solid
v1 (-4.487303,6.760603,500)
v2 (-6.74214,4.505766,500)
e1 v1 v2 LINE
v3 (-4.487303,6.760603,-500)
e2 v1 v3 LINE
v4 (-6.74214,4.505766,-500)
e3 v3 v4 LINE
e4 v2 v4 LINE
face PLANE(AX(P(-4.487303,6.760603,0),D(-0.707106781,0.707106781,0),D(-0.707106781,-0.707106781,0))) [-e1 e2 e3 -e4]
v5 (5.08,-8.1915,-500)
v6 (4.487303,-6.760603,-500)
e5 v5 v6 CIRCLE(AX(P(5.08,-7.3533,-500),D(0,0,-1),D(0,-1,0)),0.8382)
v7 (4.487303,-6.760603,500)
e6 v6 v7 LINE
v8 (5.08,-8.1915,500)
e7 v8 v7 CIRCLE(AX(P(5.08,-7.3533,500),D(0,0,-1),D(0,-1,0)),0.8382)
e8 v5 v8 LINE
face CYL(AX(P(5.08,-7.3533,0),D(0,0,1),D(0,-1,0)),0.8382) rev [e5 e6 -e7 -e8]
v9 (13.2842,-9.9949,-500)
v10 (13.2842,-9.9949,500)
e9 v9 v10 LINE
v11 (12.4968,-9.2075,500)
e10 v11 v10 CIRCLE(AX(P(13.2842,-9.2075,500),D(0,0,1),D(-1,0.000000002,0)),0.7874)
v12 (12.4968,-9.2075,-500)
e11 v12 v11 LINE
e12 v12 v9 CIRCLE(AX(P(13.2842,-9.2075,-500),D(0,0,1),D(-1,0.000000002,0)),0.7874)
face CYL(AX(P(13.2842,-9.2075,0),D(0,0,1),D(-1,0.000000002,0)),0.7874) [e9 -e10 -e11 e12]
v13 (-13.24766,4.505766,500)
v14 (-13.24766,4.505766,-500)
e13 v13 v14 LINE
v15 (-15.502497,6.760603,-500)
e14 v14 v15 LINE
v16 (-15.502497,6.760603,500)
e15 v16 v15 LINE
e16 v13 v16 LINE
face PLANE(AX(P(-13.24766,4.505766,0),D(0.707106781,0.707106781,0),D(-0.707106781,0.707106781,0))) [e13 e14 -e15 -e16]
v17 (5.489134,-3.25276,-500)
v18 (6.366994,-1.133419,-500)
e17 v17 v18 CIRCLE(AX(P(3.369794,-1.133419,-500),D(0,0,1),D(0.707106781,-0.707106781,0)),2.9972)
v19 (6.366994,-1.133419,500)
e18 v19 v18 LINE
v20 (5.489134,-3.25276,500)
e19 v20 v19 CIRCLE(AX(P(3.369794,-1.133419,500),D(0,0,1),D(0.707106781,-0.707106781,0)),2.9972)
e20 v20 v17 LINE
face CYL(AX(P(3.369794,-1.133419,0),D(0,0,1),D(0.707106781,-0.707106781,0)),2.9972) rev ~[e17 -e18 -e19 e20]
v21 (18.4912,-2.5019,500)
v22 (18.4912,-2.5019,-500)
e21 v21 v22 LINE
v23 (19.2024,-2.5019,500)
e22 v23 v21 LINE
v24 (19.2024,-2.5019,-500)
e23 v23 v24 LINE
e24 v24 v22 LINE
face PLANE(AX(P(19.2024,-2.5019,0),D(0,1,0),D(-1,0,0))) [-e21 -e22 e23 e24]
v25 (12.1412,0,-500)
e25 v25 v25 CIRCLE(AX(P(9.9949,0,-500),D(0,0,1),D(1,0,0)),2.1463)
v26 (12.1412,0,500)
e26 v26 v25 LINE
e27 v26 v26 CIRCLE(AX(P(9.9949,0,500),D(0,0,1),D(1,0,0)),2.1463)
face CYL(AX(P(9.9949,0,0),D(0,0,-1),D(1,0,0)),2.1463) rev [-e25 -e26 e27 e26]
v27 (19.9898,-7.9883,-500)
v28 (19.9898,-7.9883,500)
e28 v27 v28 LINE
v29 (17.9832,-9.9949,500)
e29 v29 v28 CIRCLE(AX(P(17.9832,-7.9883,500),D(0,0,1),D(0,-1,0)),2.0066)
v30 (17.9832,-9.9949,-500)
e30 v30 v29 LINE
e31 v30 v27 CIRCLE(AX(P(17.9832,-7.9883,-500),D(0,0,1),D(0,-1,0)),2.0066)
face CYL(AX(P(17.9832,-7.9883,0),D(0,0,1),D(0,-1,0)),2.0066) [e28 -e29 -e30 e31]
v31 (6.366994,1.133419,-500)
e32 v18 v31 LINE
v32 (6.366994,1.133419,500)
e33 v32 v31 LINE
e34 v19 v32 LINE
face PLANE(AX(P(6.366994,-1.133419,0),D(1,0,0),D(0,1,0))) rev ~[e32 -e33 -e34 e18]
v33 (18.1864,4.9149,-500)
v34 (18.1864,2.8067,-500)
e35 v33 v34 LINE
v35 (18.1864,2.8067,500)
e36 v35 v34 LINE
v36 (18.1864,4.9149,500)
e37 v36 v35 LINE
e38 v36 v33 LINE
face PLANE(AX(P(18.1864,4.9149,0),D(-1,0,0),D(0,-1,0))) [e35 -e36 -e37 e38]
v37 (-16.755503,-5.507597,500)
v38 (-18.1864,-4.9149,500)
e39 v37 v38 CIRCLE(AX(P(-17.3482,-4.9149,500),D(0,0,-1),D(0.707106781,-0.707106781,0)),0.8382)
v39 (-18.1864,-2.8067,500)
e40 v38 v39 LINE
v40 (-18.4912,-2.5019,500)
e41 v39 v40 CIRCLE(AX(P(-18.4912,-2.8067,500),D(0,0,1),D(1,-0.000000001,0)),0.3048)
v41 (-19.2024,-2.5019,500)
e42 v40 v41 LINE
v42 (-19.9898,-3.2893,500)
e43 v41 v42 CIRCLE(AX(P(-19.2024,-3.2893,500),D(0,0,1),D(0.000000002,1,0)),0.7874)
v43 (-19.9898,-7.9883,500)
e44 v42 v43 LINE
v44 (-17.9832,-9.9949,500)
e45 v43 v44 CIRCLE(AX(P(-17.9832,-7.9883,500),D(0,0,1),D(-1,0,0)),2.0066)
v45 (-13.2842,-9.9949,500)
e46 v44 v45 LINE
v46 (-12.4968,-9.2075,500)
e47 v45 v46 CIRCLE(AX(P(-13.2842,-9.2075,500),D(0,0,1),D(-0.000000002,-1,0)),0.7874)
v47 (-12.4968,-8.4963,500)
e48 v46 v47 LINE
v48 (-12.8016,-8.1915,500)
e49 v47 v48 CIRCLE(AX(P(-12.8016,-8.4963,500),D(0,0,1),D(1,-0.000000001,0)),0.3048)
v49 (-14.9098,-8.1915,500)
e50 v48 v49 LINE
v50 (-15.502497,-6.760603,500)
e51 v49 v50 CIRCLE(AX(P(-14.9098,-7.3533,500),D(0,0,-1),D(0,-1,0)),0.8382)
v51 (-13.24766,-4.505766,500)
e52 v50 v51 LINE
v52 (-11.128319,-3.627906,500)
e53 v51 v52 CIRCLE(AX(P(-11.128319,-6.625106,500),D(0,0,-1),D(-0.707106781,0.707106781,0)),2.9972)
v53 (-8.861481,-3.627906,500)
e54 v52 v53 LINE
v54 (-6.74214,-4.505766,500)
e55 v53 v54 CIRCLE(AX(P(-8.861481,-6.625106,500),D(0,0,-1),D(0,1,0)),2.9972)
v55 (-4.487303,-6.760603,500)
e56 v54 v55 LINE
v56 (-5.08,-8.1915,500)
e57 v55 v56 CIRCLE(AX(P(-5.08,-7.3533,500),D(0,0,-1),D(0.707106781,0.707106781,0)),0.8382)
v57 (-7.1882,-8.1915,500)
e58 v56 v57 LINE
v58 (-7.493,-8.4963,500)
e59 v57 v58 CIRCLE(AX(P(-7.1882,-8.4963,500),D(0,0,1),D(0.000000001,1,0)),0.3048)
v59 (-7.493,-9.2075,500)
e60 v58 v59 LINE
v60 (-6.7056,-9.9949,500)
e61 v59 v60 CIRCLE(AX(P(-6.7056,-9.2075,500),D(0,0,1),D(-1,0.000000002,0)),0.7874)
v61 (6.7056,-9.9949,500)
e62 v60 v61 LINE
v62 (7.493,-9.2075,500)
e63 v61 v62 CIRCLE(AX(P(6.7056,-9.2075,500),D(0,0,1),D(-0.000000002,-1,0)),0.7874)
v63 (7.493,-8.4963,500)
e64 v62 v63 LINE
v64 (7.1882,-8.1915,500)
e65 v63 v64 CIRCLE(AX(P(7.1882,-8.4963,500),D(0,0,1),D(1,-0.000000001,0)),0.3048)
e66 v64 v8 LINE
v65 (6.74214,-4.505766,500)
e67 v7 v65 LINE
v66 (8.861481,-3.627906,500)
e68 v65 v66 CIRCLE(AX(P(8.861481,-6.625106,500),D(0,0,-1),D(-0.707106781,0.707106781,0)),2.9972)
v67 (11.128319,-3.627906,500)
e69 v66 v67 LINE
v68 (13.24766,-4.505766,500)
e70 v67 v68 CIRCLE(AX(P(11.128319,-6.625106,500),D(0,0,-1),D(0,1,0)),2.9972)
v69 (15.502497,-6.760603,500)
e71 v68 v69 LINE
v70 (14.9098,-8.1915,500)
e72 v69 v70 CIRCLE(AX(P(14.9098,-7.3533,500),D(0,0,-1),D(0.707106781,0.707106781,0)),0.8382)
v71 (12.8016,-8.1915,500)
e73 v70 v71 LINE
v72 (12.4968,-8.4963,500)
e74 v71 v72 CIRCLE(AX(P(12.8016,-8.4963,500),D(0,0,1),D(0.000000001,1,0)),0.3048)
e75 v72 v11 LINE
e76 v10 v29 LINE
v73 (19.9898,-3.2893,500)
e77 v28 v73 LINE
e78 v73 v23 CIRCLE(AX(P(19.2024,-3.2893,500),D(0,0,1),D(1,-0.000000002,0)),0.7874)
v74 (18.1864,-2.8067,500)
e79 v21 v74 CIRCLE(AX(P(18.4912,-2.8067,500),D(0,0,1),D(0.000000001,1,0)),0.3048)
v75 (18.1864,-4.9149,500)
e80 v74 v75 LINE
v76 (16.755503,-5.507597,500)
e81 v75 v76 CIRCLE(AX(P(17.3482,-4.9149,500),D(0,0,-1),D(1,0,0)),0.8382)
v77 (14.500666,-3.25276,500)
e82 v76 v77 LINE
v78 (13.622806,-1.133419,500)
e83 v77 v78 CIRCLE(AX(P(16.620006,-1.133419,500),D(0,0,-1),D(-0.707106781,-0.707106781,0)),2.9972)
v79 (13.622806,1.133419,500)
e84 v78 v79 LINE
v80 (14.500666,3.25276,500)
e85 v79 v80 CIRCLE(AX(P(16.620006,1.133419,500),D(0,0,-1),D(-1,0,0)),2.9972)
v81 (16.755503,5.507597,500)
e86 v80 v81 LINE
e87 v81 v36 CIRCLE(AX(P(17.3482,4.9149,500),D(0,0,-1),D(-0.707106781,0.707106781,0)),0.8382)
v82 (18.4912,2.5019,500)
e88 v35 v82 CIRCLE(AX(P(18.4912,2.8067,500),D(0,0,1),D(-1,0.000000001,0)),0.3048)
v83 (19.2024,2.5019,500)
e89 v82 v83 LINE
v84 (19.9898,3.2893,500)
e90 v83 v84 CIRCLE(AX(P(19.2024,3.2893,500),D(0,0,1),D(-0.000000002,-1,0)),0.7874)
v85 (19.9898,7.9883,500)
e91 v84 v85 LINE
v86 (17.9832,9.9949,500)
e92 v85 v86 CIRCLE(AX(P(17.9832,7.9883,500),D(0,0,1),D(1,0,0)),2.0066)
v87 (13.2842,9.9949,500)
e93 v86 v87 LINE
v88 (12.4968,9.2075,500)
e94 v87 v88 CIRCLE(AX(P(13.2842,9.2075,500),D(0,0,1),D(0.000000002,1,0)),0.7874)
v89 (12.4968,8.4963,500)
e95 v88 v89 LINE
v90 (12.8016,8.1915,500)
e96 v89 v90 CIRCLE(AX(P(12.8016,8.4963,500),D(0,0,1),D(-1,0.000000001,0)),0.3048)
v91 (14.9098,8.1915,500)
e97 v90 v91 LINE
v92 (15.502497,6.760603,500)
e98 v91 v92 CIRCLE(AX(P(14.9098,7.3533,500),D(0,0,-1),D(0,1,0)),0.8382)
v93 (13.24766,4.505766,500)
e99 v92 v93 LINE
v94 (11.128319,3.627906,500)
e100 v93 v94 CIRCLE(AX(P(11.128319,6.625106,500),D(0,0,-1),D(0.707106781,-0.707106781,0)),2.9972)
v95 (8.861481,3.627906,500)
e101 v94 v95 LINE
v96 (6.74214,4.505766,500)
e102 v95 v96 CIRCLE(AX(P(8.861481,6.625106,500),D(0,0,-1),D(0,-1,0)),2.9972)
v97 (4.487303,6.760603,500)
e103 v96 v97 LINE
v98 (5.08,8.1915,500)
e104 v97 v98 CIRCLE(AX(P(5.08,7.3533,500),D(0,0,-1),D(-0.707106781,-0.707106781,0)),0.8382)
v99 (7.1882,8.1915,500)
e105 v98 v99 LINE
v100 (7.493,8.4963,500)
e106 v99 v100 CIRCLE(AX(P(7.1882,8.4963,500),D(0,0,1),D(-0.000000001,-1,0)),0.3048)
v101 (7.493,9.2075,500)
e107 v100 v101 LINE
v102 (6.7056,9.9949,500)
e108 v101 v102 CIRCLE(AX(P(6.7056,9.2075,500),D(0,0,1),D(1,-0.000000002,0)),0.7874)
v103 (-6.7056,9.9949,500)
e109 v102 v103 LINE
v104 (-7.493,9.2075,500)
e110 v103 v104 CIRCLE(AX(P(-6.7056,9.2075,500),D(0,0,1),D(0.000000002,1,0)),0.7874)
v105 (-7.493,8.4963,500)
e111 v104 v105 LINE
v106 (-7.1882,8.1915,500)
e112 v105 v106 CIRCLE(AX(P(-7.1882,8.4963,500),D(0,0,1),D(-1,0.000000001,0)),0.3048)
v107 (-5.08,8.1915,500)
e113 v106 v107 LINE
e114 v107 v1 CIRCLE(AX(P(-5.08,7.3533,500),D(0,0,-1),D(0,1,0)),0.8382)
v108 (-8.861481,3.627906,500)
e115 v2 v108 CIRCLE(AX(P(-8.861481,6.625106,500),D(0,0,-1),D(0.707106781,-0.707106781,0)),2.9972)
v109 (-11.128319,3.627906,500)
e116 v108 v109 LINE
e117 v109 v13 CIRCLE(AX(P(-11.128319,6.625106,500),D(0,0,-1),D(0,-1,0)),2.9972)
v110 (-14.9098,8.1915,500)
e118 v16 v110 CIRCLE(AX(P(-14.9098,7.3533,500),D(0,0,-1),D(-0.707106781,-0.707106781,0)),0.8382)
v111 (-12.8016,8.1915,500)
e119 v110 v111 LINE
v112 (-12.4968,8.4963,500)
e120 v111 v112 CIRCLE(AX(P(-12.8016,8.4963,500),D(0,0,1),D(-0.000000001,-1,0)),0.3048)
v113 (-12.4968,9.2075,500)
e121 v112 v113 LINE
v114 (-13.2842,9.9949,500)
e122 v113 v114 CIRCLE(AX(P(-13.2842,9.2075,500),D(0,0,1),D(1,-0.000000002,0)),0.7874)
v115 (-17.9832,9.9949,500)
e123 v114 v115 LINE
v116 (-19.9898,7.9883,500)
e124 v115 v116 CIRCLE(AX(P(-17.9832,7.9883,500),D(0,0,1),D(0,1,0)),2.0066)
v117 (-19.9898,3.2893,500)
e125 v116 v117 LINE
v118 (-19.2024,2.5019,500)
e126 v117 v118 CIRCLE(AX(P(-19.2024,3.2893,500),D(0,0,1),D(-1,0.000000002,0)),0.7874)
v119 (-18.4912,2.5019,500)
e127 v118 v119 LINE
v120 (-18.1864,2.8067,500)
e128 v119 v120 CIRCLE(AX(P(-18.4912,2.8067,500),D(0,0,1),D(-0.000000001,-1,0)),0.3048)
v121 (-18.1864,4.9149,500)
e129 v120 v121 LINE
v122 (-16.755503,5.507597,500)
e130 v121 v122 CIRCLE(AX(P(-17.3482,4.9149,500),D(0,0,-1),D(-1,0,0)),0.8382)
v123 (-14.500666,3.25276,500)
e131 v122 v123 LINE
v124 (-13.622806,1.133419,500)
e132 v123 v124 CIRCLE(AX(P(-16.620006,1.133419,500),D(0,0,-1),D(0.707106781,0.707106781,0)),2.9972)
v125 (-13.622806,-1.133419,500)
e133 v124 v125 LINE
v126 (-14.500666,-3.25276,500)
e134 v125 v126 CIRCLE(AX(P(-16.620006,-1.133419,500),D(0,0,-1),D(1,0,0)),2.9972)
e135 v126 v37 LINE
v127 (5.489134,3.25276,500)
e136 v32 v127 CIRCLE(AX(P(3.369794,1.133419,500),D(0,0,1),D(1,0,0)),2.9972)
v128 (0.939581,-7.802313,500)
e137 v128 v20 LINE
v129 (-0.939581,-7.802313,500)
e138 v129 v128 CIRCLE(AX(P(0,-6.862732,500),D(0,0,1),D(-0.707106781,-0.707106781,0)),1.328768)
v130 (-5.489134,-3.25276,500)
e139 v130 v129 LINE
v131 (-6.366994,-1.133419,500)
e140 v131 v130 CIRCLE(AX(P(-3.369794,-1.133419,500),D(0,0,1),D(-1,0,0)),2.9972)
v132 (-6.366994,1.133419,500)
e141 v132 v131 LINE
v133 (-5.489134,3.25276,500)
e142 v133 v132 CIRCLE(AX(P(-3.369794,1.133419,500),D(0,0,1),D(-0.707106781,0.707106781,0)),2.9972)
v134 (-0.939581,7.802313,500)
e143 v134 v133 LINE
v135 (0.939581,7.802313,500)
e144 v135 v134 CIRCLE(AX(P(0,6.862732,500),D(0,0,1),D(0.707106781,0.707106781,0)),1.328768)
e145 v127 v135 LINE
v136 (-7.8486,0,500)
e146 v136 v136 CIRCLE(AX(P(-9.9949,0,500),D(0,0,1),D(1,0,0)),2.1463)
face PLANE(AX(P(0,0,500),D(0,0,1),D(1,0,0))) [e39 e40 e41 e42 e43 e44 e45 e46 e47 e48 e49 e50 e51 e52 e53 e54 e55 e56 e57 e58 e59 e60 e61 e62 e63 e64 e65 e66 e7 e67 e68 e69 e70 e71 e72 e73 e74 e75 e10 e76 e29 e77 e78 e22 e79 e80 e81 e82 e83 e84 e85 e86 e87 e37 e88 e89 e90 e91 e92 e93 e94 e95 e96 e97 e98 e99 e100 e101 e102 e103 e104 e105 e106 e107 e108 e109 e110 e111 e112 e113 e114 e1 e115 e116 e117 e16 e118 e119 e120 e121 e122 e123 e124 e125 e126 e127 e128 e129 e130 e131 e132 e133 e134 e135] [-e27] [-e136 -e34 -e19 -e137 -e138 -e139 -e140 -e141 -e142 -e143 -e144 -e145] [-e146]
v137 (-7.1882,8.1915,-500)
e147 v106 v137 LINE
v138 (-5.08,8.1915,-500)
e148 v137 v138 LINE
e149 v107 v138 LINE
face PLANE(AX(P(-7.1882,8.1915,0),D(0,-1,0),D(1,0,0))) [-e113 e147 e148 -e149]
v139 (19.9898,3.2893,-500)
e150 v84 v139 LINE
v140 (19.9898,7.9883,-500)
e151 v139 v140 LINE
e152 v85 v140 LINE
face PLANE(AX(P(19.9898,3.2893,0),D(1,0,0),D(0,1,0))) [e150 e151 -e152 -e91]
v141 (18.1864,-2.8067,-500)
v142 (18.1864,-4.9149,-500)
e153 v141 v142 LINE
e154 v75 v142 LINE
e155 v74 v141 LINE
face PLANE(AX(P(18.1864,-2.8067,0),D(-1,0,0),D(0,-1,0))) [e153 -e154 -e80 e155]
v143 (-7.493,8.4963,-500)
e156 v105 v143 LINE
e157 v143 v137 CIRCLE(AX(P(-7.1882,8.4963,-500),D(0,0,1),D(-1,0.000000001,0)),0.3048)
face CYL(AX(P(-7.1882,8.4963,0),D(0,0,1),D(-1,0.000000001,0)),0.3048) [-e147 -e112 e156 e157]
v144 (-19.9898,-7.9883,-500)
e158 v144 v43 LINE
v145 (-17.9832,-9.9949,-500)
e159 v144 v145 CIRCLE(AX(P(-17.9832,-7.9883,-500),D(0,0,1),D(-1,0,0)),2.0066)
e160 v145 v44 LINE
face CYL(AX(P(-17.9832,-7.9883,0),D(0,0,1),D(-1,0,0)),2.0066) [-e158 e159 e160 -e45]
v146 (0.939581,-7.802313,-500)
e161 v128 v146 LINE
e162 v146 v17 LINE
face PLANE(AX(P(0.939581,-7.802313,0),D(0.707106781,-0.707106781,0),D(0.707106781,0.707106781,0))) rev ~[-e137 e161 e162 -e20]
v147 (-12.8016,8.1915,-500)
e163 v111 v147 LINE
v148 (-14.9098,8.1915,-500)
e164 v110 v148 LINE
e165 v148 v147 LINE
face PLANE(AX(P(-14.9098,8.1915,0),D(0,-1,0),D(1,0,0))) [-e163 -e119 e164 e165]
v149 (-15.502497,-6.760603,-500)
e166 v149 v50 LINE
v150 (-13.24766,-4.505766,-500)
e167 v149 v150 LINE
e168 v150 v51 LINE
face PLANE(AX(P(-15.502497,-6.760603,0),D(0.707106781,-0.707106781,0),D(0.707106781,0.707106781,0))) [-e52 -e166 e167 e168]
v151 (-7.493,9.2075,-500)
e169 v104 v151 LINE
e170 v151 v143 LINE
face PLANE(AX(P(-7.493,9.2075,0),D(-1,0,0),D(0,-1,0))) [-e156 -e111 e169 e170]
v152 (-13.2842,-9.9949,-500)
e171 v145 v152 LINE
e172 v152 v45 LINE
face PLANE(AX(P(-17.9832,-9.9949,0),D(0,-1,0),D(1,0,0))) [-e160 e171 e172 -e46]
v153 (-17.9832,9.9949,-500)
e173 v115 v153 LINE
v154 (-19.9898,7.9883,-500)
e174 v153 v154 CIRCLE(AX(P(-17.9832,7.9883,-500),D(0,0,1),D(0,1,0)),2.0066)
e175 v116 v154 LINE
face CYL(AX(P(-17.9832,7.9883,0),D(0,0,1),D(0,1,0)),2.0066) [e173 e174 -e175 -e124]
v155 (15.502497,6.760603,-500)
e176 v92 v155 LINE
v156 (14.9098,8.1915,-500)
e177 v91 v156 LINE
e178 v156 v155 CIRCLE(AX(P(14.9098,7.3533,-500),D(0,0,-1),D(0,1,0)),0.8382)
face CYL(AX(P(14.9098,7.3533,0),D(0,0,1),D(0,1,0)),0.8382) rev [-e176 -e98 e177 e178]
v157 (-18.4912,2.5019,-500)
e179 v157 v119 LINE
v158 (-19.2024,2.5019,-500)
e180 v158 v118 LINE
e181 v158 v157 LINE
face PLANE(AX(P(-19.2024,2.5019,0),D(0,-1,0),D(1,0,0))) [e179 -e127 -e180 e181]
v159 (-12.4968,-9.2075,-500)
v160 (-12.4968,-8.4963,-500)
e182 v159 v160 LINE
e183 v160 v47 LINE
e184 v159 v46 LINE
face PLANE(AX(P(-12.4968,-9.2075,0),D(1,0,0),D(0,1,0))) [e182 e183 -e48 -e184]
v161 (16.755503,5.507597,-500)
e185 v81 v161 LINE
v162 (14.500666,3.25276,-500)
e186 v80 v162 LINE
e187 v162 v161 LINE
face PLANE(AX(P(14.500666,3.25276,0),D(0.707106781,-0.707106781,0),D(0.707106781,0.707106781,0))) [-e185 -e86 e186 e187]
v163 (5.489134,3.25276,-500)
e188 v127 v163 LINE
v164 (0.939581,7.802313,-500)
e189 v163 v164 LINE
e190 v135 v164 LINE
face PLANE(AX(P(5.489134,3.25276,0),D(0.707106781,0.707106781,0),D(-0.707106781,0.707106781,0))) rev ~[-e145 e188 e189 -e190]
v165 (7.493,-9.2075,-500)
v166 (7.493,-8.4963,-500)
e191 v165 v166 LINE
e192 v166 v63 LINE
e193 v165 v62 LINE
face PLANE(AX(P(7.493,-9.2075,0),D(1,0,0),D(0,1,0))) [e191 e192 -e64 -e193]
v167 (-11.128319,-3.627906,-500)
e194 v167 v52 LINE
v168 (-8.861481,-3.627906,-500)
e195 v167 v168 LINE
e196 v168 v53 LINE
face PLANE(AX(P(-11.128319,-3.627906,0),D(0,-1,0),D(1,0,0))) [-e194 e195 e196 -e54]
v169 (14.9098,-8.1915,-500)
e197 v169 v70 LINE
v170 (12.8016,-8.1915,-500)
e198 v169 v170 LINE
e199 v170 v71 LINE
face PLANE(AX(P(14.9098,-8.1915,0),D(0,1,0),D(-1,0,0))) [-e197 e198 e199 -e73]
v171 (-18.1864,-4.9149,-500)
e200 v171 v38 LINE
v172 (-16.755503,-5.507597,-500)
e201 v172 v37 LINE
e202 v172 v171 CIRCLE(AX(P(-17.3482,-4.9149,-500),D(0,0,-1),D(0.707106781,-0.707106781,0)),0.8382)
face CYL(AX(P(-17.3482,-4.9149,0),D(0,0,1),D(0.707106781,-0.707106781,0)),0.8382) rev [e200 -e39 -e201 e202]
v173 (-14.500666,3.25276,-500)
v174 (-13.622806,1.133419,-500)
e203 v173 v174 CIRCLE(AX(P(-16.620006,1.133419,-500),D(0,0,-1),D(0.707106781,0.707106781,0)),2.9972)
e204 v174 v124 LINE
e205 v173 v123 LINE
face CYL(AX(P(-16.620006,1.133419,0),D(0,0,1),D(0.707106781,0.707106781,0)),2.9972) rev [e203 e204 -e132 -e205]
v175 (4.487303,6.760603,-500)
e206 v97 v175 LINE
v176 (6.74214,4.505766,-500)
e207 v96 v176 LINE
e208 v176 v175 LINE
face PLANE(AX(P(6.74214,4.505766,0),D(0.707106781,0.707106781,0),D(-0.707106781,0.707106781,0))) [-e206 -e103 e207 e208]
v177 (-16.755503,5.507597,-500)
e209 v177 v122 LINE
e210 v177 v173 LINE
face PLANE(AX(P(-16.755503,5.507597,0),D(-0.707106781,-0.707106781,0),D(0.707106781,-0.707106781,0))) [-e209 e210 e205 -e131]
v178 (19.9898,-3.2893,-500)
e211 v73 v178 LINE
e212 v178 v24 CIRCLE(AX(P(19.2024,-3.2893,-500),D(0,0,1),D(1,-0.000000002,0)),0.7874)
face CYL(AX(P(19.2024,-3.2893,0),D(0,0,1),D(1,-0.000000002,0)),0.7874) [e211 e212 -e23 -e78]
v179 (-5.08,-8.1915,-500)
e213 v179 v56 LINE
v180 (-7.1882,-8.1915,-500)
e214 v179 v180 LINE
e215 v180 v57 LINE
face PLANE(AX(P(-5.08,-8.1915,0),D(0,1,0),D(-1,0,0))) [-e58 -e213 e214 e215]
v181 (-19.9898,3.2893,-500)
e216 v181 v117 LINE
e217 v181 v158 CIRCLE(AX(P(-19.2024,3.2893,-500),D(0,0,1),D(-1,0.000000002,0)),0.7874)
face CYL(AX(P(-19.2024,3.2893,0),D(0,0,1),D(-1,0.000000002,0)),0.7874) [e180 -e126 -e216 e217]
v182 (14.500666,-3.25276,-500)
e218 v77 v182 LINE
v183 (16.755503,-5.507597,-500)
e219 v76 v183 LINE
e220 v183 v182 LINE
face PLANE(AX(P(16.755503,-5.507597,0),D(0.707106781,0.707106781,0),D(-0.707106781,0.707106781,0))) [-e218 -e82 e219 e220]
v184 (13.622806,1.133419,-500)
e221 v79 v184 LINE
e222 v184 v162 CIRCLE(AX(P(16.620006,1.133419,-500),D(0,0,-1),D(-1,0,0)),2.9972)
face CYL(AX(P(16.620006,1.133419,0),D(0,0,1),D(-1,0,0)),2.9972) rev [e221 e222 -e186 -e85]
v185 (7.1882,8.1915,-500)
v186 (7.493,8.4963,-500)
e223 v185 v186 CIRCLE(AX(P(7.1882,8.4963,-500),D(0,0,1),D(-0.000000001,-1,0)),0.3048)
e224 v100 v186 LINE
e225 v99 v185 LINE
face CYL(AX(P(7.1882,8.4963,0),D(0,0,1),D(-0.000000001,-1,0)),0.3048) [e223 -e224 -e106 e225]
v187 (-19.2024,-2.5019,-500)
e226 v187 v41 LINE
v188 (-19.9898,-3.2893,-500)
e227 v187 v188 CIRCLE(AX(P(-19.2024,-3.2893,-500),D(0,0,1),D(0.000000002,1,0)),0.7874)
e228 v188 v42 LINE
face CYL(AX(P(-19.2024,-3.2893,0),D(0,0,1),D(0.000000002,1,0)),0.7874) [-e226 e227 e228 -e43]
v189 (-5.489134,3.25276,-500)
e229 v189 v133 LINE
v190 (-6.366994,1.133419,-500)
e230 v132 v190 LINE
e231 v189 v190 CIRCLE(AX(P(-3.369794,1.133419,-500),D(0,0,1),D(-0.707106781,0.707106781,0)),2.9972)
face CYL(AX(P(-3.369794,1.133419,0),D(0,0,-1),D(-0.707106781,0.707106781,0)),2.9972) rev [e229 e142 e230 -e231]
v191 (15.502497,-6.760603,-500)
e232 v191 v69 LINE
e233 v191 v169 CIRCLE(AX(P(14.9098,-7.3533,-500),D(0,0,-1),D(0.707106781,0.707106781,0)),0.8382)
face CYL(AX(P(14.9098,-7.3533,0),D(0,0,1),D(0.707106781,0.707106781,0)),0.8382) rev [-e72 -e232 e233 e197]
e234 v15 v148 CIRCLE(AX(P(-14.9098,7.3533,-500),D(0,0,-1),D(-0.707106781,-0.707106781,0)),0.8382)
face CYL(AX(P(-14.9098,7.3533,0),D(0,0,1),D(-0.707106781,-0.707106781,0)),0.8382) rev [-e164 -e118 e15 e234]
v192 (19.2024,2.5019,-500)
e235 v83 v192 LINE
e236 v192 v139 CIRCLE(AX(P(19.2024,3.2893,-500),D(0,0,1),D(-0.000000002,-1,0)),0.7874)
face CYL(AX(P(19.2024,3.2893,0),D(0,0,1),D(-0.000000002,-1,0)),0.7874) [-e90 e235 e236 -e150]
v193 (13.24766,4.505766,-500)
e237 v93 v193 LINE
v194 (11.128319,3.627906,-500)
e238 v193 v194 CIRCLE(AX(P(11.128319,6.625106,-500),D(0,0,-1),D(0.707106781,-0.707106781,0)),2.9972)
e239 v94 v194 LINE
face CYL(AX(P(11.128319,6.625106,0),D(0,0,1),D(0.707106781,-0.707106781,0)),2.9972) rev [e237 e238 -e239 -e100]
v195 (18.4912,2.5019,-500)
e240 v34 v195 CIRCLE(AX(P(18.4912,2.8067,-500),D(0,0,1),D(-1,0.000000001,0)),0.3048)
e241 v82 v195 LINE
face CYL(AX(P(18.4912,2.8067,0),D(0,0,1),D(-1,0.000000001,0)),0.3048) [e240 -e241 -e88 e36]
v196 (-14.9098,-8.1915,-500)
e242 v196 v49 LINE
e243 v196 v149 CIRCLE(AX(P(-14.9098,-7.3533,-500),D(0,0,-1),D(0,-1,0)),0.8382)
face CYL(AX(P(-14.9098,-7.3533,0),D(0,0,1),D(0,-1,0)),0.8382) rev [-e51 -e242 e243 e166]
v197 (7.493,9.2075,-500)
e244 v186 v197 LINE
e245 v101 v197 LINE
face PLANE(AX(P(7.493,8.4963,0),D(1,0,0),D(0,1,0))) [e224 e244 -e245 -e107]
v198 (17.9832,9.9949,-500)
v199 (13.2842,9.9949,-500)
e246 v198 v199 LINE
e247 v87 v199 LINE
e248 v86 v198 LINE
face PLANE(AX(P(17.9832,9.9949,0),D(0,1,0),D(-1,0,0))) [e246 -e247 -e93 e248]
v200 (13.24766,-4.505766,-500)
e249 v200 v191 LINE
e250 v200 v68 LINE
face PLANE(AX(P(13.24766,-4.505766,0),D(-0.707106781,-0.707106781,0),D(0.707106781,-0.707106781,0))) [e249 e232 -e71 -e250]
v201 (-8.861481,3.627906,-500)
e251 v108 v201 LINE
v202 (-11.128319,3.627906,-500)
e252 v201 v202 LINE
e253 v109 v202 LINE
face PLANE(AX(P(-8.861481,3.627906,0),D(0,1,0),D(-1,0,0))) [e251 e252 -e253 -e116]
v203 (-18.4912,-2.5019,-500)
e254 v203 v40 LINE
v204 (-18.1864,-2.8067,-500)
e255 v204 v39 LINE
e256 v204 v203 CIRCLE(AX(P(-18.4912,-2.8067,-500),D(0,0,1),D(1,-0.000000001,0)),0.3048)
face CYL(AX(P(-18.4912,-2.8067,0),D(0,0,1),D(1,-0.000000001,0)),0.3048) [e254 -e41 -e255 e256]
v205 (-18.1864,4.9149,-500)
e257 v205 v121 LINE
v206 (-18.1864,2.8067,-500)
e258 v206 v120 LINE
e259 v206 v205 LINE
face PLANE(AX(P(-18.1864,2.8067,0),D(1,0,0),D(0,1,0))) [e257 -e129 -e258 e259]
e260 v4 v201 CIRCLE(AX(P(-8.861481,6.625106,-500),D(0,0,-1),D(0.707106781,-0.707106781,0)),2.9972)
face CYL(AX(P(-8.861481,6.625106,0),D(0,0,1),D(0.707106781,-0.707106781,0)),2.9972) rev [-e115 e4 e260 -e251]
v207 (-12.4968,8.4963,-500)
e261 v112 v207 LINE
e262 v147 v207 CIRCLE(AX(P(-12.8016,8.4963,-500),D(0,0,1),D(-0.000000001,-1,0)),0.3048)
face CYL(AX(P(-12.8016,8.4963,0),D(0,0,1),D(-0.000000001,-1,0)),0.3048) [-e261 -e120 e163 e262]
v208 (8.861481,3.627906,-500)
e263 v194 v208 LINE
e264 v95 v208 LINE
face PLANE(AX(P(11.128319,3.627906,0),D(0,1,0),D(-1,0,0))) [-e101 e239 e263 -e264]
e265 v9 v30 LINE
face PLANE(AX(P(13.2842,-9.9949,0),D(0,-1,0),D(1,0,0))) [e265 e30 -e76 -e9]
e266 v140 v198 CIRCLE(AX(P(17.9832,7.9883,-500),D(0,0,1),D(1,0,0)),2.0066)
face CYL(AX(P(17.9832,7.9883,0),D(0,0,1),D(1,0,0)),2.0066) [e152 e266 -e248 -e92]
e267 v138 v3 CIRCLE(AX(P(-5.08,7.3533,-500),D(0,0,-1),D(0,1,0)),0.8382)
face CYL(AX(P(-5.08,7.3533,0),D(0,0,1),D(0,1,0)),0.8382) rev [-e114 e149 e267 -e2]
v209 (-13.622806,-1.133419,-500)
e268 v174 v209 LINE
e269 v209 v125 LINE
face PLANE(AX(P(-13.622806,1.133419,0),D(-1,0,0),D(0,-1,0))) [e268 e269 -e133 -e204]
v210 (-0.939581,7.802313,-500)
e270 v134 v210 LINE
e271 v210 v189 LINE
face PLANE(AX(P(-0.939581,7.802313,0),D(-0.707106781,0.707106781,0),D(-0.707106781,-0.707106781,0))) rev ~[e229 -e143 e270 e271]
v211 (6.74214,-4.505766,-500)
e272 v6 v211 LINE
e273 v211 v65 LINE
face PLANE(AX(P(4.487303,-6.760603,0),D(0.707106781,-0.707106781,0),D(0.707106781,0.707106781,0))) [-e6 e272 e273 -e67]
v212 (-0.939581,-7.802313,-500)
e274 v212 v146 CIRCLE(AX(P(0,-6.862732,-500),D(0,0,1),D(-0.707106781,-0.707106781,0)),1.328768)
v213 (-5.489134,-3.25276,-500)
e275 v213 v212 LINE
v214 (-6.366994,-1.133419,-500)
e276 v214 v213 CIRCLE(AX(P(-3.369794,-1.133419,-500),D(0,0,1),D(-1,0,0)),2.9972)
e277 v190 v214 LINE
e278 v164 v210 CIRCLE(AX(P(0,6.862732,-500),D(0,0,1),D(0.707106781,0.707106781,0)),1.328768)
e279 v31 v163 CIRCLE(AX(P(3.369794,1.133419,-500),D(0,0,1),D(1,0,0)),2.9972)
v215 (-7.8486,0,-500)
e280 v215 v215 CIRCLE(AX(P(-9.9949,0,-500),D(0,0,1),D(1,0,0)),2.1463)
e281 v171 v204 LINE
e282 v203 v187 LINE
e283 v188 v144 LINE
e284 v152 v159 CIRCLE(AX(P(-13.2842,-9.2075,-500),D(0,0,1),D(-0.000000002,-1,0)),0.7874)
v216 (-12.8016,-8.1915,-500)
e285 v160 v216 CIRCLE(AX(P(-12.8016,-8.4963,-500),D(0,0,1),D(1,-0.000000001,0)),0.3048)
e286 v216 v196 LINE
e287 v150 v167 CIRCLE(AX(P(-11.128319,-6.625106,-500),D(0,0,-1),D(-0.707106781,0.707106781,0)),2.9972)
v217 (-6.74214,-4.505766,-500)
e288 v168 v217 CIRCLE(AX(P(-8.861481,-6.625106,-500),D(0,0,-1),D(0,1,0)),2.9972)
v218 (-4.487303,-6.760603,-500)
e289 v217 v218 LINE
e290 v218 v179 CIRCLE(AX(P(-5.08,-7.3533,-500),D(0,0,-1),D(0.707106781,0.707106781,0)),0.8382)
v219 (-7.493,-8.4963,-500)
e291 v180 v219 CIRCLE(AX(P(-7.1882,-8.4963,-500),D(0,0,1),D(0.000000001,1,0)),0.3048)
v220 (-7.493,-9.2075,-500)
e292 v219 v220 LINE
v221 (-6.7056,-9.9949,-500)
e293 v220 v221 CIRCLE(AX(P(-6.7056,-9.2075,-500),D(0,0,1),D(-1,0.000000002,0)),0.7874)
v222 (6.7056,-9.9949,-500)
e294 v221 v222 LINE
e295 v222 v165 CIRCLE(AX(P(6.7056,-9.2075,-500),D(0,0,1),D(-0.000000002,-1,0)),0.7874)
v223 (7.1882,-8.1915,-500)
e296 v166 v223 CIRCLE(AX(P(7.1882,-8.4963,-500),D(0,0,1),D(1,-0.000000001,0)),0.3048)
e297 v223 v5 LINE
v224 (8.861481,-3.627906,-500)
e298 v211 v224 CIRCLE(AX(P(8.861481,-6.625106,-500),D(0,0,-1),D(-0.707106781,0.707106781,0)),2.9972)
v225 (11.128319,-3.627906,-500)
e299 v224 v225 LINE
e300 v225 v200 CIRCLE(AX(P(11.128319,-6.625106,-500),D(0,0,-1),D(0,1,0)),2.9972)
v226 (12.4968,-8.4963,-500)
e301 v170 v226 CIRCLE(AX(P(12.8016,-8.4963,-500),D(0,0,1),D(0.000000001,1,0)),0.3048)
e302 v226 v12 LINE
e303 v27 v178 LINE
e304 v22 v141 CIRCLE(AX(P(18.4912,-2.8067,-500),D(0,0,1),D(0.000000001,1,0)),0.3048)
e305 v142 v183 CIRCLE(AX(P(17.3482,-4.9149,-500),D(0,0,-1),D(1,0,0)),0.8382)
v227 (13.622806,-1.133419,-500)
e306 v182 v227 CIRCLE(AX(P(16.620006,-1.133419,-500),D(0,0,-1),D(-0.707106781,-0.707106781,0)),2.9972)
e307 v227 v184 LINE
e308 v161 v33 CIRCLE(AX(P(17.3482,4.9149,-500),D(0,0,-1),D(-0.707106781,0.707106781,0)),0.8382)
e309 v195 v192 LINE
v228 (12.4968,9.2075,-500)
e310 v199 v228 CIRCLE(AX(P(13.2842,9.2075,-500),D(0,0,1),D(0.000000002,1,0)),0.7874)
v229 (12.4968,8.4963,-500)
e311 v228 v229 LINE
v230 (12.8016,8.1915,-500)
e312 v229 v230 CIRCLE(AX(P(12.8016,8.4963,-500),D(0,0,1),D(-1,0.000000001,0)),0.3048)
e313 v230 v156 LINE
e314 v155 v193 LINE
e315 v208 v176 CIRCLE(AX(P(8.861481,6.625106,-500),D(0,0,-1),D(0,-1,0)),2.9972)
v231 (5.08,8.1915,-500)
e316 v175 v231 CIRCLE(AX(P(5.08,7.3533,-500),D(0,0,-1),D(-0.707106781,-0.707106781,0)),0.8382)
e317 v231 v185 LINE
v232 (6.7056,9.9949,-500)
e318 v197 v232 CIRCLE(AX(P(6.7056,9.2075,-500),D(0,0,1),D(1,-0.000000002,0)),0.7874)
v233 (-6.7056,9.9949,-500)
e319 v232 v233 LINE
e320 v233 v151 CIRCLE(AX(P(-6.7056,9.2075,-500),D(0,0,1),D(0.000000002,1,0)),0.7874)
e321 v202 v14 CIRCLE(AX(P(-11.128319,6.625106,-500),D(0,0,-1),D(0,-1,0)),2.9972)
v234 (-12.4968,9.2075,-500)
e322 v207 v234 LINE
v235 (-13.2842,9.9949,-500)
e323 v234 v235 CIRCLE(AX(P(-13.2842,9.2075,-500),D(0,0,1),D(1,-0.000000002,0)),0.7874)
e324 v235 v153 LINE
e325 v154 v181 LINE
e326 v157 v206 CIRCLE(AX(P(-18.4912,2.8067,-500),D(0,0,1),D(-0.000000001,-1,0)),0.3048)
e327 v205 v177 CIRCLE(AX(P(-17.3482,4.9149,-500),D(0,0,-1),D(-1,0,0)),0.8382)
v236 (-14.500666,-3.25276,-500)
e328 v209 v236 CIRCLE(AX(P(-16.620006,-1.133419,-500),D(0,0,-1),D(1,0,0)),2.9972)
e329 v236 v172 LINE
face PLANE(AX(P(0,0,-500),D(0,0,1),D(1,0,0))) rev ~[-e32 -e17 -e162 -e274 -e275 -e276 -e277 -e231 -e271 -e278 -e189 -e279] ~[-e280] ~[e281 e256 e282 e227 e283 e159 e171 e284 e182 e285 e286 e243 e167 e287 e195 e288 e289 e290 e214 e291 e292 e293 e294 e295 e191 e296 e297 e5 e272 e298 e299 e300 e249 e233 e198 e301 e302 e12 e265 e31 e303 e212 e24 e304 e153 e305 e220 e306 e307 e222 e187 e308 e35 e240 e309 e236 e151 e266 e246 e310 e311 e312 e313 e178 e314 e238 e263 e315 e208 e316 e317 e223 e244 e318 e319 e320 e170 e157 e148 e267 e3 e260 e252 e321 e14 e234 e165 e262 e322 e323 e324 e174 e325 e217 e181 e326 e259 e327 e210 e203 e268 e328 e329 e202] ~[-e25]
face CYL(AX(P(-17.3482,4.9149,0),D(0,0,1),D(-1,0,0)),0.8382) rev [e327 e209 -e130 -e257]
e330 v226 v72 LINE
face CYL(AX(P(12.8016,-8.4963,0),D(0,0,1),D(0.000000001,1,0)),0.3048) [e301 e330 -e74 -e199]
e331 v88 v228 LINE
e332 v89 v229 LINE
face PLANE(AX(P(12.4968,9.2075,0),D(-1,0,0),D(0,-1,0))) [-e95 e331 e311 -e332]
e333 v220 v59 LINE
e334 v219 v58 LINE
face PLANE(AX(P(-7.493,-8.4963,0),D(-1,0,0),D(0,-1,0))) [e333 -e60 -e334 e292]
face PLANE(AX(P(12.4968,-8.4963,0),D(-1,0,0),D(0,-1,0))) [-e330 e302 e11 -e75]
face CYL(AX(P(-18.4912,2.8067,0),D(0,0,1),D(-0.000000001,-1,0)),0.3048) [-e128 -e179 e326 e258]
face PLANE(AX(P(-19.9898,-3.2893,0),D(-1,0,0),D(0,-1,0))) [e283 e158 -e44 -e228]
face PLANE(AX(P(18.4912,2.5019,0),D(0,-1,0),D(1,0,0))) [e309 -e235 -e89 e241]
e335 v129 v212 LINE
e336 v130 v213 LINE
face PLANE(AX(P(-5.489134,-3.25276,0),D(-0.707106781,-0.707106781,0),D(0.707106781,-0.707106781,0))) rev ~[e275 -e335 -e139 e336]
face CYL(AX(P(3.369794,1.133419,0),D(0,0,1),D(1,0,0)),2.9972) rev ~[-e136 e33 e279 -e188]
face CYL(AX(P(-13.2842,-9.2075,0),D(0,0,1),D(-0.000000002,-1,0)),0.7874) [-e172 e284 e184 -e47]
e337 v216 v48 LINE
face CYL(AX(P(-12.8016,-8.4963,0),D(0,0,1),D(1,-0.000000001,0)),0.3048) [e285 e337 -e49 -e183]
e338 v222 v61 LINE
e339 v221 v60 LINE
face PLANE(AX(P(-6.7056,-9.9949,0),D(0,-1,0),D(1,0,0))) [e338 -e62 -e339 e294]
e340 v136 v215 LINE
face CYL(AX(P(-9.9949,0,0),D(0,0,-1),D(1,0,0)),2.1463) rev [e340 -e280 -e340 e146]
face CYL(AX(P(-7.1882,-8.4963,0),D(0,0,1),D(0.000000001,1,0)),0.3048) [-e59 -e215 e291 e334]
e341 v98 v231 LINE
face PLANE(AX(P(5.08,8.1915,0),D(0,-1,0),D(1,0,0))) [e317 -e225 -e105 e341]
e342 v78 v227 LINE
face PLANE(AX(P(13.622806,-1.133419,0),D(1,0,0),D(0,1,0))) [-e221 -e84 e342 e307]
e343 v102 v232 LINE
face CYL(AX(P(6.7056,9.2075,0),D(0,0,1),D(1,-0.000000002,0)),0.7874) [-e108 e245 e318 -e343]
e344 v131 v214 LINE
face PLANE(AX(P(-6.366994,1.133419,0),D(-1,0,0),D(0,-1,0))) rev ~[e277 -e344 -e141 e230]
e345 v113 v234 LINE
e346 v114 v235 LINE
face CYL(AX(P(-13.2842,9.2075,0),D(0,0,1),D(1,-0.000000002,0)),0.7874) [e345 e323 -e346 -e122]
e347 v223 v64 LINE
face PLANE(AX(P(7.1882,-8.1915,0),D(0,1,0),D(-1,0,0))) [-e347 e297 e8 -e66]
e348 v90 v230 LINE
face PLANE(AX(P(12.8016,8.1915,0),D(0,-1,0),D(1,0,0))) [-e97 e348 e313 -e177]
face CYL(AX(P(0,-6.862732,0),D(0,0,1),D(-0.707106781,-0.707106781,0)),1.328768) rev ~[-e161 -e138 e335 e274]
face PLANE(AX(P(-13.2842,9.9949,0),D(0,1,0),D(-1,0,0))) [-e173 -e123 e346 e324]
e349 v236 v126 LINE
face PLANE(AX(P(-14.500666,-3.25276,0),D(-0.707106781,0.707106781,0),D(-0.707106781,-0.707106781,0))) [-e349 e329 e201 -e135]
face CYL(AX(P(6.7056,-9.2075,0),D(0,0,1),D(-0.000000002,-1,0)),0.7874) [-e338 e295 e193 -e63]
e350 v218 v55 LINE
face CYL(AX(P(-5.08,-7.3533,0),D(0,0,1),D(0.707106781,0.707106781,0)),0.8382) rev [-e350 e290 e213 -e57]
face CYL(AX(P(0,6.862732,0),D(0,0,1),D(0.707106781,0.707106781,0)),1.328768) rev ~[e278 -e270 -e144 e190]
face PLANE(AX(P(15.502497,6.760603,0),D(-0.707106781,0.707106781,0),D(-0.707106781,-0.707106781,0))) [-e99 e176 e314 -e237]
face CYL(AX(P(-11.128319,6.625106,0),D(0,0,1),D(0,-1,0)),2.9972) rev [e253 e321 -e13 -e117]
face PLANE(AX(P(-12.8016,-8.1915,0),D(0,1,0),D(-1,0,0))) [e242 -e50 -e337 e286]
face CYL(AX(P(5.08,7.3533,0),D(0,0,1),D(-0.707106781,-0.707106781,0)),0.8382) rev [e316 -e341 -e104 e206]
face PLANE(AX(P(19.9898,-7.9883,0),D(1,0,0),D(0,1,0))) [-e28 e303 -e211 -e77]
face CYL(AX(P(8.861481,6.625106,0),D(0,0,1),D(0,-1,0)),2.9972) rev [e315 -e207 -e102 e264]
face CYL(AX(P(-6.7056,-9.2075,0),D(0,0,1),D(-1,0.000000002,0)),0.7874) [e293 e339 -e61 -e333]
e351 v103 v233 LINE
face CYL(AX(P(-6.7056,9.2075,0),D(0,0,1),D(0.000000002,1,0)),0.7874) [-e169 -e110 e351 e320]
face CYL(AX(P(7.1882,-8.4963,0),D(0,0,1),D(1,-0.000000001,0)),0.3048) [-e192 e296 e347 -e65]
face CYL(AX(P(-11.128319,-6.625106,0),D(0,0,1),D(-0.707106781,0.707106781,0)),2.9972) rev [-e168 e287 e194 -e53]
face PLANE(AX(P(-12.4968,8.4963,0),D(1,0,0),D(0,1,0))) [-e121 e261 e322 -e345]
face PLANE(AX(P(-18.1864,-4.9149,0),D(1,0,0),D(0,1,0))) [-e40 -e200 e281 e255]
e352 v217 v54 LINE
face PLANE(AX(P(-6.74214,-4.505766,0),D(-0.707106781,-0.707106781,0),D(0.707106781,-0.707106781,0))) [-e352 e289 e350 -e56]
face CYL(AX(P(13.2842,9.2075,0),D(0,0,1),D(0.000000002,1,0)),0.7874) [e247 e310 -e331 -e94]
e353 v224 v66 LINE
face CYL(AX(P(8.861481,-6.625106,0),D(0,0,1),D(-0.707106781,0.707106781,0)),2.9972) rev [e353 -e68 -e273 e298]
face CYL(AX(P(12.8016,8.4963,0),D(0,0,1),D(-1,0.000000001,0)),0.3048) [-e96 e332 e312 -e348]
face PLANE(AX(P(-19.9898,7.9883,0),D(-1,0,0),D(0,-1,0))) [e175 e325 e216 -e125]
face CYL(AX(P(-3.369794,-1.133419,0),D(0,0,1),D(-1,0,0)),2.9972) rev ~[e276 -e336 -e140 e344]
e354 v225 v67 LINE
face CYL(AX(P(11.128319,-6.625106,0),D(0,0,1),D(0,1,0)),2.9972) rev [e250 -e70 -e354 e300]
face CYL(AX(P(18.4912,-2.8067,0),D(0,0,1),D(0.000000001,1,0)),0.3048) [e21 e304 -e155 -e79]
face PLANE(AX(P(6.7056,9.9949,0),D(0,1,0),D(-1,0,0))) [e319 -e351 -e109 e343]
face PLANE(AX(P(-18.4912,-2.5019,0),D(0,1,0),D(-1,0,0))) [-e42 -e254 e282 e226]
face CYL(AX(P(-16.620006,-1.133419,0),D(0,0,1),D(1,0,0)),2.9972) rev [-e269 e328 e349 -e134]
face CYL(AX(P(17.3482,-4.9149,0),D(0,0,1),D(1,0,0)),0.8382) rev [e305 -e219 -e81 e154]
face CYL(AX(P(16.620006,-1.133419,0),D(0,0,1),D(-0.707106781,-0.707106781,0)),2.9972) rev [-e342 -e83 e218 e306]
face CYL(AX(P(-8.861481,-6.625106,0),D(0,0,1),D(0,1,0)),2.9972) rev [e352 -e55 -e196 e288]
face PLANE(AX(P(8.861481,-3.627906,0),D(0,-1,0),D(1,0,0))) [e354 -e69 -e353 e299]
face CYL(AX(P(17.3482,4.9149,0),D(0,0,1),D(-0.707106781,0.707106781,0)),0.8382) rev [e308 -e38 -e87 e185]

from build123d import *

# Parameters (mm, degrees)
SKETCH1_R           = 2.1463
BOSS_EXTRUDE1_DEPTH = 500


with BuildPart() as part:
    # Sketch1 → Boss-Extrude1 (new body, symmetric)
    with BuildSketch(Plane.XY):
        with BuildLine():
            Line((-19.9898, 7.9883), (-19.9898, 3.2893))
            ThreePointArc((-19.9898, 3.2893), (-19.75917588, 2.73252412), (-19.2024, 2.5019))
            Line((-19.2024, 2.5019), (-18.4912, 2.5019))
            ThreePointArc((-18.4912, 2.5019), (-18.275673853, 2.591173853), (-18.1864, 2.8067))
            Line((-18.1864, 2.8067), (-18.1864, 4.9149))
            ThreePointArc((-18.1864, 4.9149), (-17.668965253, 5.689295824), (-16.755503096, 5.507596904))
            Line((-16.755503096, 5.507596904), (-14.500665747, 3.252759555))
            ThreePointArc((-14.500665747, 3.252759555), (-13.850954457, 2.280397894), (-13.622806192, 1.133419111))
            Line((-13.622806192, 1.133419111), (-13.622806192, -1.133419111))
            ThreePointArc((-13.622806192, -1.133419111), (-13.850954457, -2.280397894), (-14.500665747, -3.252759555))
            Line((-14.500665747, -3.252759555), (-16.755503096, -5.507596904))
            ThreePointArc((-16.755503096, -5.507596904), (-17.668965253, -5.689295824), (-18.1864, -4.9149))
            Line((-18.1864, -4.9149), (-18.1864, -2.8067))
            ThreePointArc((-18.1864, -2.8067), (-18.275673853, -2.591173853), (-18.4912, -2.5019))
            Line((-18.4912, -2.5019), (-19.2024, -2.5019))
            ThreePointArc((-19.2024, -2.5019), (-19.75917588, -2.73252412), (-19.9898, -3.2893))
            Line((-19.9898, -3.2893), (-19.9898, -7.9883))
            ThreePointArc((-19.9898, -7.9883), (-19.402080467, -9.407180467), (-17.9832, -9.9949))
            Line((-17.9832, -9.9949), (-13.2842, -9.9949))
            ThreePointArc((-13.2842, -9.9949), (-12.72742412, -9.76427588), (-12.4968, -9.2075))
            Line((-12.4968, -9.2075), (-12.4968, -8.4963))
            ThreePointArc((-12.4968, -8.4963), (-12.586073853, -8.280773853), (-12.8016, -8.1915))
            Line((-12.8016, -8.1915), (-14.9098, -8.1915))
            ThreePointArc((-14.9098, -8.1915), (-15.684195824, -7.674065253), (-15.502496904, -6.760603096))
            Line((-15.502496904, -6.760603096), (-13.247659555, -4.505765747))
            ThreePointArc((-13.247659555, -4.505765747), (-12.275297894, -3.856054457), (-11.128319111, -3.627906192))
            Line((-11.128319111, -3.627906192), (-8.861480889, -3.627906192))
            ThreePointArc((-8.861480889, -3.627906192), (-7.714502106, -3.856054457), (-6.742140445, -4.505765747))
            Line((-6.742140445, -4.505765747), (-4.487303096, -6.760603096))
            ThreePointArc((-4.487303096, -6.760603096), (-4.305604176, -7.674065253), (-5.08, -8.1915))
            Line((-5.08, -8.1915), (-7.1882, -8.1915))
            ThreePointArc((-7.1882, -8.1915), (-7.403726147, -8.280773853), (-7.493, -8.4963))
            Line((-7.493, -8.4963), (-7.493, -9.2075))
            ThreePointArc((-7.493, -9.2075), (-7.26237588, -9.76427588), (-6.7056, -9.9949))
            Line((-6.7056, -9.9949), (0, -9.9949))
            Line((0, -9.9949), (6.7056, -9.9949))
            ThreePointArc((6.7056, -9.9949), (7.26237588, -9.76427588), (7.493, -9.2075))
            Line((7.493, -9.2075), (7.493, -8.4963))
            ThreePointArc((7.493, -8.4963), (7.403726147, -8.280773853), (7.1882, -8.1915))
            Line((7.1882, -8.1915), (5.08, -8.1915))
            ThreePointArc((5.08, -8.1915), (4.305604176, -7.674065253), (4.487303096, -6.760603096))
            Line((4.487303096, -6.760603096), (6.742140445, -4.505765747))
            ThreePointArc((6.742140445, -4.505765747), (7.714502106, -3.856054457), (8.861480889, -3.627906192))
            Line((8.861480889, -3.627906192), (11.128319111, -3.627906192))
            ThreePointArc((11.128319111, -3.627906192), (12.275297894, -3.856054457), (13.247659555, -4.505765747))
            Line((13.247659555, -4.505765747), (15.502496904, -6.760603096))
            ThreePointArc((15.502496904, -6.760603096), (15.684195824, -7.674065253), (14.9098, -8.1915))
            Line((14.9098, -8.1915), (12.8016, -8.1915))
            ThreePointArc((12.8016, -8.1915), (12.586073853, -8.280773853), (12.4968, -8.4963))
            Line((12.4968, -8.4963), (12.4968, -9.2075))
            ThreePointArc((12.4968, -9.2075), (12.72742412, -9.76427588), (13.2842, -9.9949))
            Line((13.2842, -9.9949), (17.9832, -9.9949))
            ThreePointArc((17.9832, -9.9949), (19.402080467, -9.407180467), (19.9898, -7.9883))
            Line((19.9898, -7.9883), (19.9898, -3.2893))
            ThreePointArc((19.9898, -3.2893), (19.75917588, -2.73252412), (19.2024, -2.5019))
            Line((19.2024, -2.5019), (18.4912, -2.5019))
            ThreePointArc((18.4912, -2.5019), (18.275673853, -2.591173853), (18.1864, -2.8067))
            Line((18.1864, -2.8067), (18.1864, -4.9149))
            ThreePointArc((18.1864, -4.9149), (17.668965253, -5.689295824), (16.755503096, -5.507596904))
            Line((16.755503096, -5.507596904), (14.500665747, -3.252759555))
            ThreePointArc((14.500665747, -3.252759555), (13.850954457, -2.280397894), (13.622806192, -1.133419111))
            Line((13.622806192, -1.133419111), (13.622806192, 1.133419111))
            ThreePointArc((13.622806192, 1.133419111), (13.850954457, 2.280397894), (14.500665747, 3.252759555))
            Line((14.500665747, 3.252759555), (16.755503096, 5.507596904))
            ThreePointArc((16.755503096, 5.507596904), (17.668965253, 5.689295824), (18.1864, 4.9149))
            Line((18.1864, 4.9149), (18.1864, 2.8067))
            ThreePointArc((18.1864, 2.8067), (18.275673853, 2.591173853), (18.4912, 2.5019))
            Line((18.4912, 2.5019), (19.2024, 2.5019))
            ThreePointArc((19.2024, 2.5019), (19.75917588, 2.73252412), (19.9898, 3.2893))
            Line((19.9898, 3.2893), (19.9898, 7.9883))
            ThreePointArc((19.9898, 7.9883), (19.402080467, 9.407180467), (17.9832, 9.9949))
            Line((17.9832, 9.9949), (13.2842, 9.9949))
            ThreePointArc((13.2842, 9.9949), (12.72742412, 9.76427588), (12.4968, 9.2075))
            Line((12.4968, 9.2075), (12.4968, 8.4963))
            ThreePointArc((12.4968, 8.4963), (12.586073853, 8.280773853), (12.8016, 8.1915))
            Line((12.8016, 8.1915), (14.9098, 8.1915))
            ThreePointArc((14.9098, 8.1915), (15.684195824, 7.674065253), (15.502496904, 6.760603096))
            Line((15.502496904, 6.760603096), (13.247659555, 4.505765747))
            ThreePointArc((13.247659555, 4.505765747), (12.275297894, 3.856054457), (11.128319111, 3.627906192))
            Line((11.128319111, 3.627906192), (8.861480889, 3.627906192))
            ThreePointArc((8.861480889, 3.627906192), (7.714502106, 3.856054457), (6.742140445, 4.505765747))
            Line((6.742140445, 4.505765747), (4.487303096, 6.760603096))
            ThreePointArc((4.487303096, 6.760603096), (4.305604176, 7.674065253), (5.08, 8.1915))
            Line((5.08, 8.1915), (7.1882, 8.1915))
            ThreePointArc((7.1882, 8.1915), (7.403726147, 8.280773853), (7.493, 8.4963))
            Line((7.493, 8.4963), (7.493, 9.2075))
            ThreePointArc((7.493, 9.2075), (7.26237588, 9.76427588), (6.7056, 9.9949))
            Line((6.7056, 9.9949), (0, 9.9949))
            Line((0, 9.9949), (-6.7056, 9.9949))
            ThreePointArc((-6.7056, 9.9949), (-7.26237588, 9.76427588), (-7.493, 9.2075))
            Line((-7.493, 9.2075), (-7.493, 8.4963))
            ThreePointArc((-7.493, 8.4963), (-7.403726147, 8.280773853), (-7.1882, 8.1915))
            Line((-7.1882, 8.1915), (-5.08, 8.1915))
            ThreePointArc((-5.08, 8.1915), (-4.305604176, 7.674065253), (-4.487303096, 6.760603096))
            Line((-4.487303096, 6.760603096), (-6.742140445, 4.505765747))
            ThreePointArc((-6.742140445, 4.505765747), (-7.714502106, 3.856054457), (-8.861480889, 3.627906192))
            Line((-8.861480889, 3.627906192), (-11.128319111, 3.627906192))
            ThreePointArc((-11.128319111, 3.627906192), (-12.275297894, 3.856054457), (-13.247659555, 4.505765747))
            Line((-13.247659555, 4.505765747), (-15.502496904, 6.760603096))
            ThreePointArc((-15.502496904, 6.760603096), (-15.684195824, 7.674065253), (-14.9098, 8.1915))
            Line((-14.9098, 8.1915), (-12.8016, 8.1915))
            ThreePointArc((-12.8016, 8.1915), (-12.586073853, 8.280773853), (-12.4968, 8.4963))
            Line((-12.4968, 8.4963), (-12.4968, 9.2075))
            ThreePointArc((-12.4968, 9.2075), (-12.72742412, 9.76427588), (-13.2842, 9.9949))
            Line((-13.2842, 9.9949), (-17.9832, 9.9949))
            ThreePointArc((-17.9832, 9.9949), (-19.402080467, 9.407180467), (-19.9898, 7.9883))
        make_face()
        with Locations((-9.9949, 0)):
            Circle(SKETCH1_R, mode=Mode.SUBTRACT)
        with Locations((9.9949, 0)):
            Circle(SKETCH1_R, mode=Mode.SUBTRACT)
        with BuildLine():
            Line((-6.366993808, 1.133419111), (-6.366993808, -1.133419111))
            ThreePointArc((-6.366993808, -1.133419111), (-6.138845543, -2.280397894), (-5.489134253, -3.252759555))
            Line((-5.489134253, -3.252759555), (-0.939581002, -7.802312806))
            ThreePointArc((-0.939581002, -7.802312806), (0, -8.1915), (0.939581002, -7.802312806))
            Line((0.939581002, -7.802312806), (5.489134253, -3.252759555))
            ThreePointArc((5.489134253, -3.252759555), (6.138845543, -2.280397894), (6.366993808, -1.133419111))
            Line((6.366993808, -1.133419111), (6.366993808, 1.133419111))
            ThreePointArc((6.366993808, 1.133419111), (6.138845543, 2.280397894), (5.489134253, 3.252759555))
            Line((5.489134253, 3.252759555), (0.939581002, 7.802312806))
            ThreePointArc((0.939581002, 7.802312806), (0, 8.1915), (-0.939581002, 7.802312806))
            Line((-0.939581002, 7.802312806), (-5.489134253, 3.252759555))
            ThreePointArc((-5.489134253, 3.252759555), (-6.138845543, 2.280397894), (-6.366993808, 1.133419111))
        make_face(mode=Mode.SUBTRACT)
    extrude(amount=BOSS_EXTRUDE1_DEPTH, both=True)


solid = part.part
